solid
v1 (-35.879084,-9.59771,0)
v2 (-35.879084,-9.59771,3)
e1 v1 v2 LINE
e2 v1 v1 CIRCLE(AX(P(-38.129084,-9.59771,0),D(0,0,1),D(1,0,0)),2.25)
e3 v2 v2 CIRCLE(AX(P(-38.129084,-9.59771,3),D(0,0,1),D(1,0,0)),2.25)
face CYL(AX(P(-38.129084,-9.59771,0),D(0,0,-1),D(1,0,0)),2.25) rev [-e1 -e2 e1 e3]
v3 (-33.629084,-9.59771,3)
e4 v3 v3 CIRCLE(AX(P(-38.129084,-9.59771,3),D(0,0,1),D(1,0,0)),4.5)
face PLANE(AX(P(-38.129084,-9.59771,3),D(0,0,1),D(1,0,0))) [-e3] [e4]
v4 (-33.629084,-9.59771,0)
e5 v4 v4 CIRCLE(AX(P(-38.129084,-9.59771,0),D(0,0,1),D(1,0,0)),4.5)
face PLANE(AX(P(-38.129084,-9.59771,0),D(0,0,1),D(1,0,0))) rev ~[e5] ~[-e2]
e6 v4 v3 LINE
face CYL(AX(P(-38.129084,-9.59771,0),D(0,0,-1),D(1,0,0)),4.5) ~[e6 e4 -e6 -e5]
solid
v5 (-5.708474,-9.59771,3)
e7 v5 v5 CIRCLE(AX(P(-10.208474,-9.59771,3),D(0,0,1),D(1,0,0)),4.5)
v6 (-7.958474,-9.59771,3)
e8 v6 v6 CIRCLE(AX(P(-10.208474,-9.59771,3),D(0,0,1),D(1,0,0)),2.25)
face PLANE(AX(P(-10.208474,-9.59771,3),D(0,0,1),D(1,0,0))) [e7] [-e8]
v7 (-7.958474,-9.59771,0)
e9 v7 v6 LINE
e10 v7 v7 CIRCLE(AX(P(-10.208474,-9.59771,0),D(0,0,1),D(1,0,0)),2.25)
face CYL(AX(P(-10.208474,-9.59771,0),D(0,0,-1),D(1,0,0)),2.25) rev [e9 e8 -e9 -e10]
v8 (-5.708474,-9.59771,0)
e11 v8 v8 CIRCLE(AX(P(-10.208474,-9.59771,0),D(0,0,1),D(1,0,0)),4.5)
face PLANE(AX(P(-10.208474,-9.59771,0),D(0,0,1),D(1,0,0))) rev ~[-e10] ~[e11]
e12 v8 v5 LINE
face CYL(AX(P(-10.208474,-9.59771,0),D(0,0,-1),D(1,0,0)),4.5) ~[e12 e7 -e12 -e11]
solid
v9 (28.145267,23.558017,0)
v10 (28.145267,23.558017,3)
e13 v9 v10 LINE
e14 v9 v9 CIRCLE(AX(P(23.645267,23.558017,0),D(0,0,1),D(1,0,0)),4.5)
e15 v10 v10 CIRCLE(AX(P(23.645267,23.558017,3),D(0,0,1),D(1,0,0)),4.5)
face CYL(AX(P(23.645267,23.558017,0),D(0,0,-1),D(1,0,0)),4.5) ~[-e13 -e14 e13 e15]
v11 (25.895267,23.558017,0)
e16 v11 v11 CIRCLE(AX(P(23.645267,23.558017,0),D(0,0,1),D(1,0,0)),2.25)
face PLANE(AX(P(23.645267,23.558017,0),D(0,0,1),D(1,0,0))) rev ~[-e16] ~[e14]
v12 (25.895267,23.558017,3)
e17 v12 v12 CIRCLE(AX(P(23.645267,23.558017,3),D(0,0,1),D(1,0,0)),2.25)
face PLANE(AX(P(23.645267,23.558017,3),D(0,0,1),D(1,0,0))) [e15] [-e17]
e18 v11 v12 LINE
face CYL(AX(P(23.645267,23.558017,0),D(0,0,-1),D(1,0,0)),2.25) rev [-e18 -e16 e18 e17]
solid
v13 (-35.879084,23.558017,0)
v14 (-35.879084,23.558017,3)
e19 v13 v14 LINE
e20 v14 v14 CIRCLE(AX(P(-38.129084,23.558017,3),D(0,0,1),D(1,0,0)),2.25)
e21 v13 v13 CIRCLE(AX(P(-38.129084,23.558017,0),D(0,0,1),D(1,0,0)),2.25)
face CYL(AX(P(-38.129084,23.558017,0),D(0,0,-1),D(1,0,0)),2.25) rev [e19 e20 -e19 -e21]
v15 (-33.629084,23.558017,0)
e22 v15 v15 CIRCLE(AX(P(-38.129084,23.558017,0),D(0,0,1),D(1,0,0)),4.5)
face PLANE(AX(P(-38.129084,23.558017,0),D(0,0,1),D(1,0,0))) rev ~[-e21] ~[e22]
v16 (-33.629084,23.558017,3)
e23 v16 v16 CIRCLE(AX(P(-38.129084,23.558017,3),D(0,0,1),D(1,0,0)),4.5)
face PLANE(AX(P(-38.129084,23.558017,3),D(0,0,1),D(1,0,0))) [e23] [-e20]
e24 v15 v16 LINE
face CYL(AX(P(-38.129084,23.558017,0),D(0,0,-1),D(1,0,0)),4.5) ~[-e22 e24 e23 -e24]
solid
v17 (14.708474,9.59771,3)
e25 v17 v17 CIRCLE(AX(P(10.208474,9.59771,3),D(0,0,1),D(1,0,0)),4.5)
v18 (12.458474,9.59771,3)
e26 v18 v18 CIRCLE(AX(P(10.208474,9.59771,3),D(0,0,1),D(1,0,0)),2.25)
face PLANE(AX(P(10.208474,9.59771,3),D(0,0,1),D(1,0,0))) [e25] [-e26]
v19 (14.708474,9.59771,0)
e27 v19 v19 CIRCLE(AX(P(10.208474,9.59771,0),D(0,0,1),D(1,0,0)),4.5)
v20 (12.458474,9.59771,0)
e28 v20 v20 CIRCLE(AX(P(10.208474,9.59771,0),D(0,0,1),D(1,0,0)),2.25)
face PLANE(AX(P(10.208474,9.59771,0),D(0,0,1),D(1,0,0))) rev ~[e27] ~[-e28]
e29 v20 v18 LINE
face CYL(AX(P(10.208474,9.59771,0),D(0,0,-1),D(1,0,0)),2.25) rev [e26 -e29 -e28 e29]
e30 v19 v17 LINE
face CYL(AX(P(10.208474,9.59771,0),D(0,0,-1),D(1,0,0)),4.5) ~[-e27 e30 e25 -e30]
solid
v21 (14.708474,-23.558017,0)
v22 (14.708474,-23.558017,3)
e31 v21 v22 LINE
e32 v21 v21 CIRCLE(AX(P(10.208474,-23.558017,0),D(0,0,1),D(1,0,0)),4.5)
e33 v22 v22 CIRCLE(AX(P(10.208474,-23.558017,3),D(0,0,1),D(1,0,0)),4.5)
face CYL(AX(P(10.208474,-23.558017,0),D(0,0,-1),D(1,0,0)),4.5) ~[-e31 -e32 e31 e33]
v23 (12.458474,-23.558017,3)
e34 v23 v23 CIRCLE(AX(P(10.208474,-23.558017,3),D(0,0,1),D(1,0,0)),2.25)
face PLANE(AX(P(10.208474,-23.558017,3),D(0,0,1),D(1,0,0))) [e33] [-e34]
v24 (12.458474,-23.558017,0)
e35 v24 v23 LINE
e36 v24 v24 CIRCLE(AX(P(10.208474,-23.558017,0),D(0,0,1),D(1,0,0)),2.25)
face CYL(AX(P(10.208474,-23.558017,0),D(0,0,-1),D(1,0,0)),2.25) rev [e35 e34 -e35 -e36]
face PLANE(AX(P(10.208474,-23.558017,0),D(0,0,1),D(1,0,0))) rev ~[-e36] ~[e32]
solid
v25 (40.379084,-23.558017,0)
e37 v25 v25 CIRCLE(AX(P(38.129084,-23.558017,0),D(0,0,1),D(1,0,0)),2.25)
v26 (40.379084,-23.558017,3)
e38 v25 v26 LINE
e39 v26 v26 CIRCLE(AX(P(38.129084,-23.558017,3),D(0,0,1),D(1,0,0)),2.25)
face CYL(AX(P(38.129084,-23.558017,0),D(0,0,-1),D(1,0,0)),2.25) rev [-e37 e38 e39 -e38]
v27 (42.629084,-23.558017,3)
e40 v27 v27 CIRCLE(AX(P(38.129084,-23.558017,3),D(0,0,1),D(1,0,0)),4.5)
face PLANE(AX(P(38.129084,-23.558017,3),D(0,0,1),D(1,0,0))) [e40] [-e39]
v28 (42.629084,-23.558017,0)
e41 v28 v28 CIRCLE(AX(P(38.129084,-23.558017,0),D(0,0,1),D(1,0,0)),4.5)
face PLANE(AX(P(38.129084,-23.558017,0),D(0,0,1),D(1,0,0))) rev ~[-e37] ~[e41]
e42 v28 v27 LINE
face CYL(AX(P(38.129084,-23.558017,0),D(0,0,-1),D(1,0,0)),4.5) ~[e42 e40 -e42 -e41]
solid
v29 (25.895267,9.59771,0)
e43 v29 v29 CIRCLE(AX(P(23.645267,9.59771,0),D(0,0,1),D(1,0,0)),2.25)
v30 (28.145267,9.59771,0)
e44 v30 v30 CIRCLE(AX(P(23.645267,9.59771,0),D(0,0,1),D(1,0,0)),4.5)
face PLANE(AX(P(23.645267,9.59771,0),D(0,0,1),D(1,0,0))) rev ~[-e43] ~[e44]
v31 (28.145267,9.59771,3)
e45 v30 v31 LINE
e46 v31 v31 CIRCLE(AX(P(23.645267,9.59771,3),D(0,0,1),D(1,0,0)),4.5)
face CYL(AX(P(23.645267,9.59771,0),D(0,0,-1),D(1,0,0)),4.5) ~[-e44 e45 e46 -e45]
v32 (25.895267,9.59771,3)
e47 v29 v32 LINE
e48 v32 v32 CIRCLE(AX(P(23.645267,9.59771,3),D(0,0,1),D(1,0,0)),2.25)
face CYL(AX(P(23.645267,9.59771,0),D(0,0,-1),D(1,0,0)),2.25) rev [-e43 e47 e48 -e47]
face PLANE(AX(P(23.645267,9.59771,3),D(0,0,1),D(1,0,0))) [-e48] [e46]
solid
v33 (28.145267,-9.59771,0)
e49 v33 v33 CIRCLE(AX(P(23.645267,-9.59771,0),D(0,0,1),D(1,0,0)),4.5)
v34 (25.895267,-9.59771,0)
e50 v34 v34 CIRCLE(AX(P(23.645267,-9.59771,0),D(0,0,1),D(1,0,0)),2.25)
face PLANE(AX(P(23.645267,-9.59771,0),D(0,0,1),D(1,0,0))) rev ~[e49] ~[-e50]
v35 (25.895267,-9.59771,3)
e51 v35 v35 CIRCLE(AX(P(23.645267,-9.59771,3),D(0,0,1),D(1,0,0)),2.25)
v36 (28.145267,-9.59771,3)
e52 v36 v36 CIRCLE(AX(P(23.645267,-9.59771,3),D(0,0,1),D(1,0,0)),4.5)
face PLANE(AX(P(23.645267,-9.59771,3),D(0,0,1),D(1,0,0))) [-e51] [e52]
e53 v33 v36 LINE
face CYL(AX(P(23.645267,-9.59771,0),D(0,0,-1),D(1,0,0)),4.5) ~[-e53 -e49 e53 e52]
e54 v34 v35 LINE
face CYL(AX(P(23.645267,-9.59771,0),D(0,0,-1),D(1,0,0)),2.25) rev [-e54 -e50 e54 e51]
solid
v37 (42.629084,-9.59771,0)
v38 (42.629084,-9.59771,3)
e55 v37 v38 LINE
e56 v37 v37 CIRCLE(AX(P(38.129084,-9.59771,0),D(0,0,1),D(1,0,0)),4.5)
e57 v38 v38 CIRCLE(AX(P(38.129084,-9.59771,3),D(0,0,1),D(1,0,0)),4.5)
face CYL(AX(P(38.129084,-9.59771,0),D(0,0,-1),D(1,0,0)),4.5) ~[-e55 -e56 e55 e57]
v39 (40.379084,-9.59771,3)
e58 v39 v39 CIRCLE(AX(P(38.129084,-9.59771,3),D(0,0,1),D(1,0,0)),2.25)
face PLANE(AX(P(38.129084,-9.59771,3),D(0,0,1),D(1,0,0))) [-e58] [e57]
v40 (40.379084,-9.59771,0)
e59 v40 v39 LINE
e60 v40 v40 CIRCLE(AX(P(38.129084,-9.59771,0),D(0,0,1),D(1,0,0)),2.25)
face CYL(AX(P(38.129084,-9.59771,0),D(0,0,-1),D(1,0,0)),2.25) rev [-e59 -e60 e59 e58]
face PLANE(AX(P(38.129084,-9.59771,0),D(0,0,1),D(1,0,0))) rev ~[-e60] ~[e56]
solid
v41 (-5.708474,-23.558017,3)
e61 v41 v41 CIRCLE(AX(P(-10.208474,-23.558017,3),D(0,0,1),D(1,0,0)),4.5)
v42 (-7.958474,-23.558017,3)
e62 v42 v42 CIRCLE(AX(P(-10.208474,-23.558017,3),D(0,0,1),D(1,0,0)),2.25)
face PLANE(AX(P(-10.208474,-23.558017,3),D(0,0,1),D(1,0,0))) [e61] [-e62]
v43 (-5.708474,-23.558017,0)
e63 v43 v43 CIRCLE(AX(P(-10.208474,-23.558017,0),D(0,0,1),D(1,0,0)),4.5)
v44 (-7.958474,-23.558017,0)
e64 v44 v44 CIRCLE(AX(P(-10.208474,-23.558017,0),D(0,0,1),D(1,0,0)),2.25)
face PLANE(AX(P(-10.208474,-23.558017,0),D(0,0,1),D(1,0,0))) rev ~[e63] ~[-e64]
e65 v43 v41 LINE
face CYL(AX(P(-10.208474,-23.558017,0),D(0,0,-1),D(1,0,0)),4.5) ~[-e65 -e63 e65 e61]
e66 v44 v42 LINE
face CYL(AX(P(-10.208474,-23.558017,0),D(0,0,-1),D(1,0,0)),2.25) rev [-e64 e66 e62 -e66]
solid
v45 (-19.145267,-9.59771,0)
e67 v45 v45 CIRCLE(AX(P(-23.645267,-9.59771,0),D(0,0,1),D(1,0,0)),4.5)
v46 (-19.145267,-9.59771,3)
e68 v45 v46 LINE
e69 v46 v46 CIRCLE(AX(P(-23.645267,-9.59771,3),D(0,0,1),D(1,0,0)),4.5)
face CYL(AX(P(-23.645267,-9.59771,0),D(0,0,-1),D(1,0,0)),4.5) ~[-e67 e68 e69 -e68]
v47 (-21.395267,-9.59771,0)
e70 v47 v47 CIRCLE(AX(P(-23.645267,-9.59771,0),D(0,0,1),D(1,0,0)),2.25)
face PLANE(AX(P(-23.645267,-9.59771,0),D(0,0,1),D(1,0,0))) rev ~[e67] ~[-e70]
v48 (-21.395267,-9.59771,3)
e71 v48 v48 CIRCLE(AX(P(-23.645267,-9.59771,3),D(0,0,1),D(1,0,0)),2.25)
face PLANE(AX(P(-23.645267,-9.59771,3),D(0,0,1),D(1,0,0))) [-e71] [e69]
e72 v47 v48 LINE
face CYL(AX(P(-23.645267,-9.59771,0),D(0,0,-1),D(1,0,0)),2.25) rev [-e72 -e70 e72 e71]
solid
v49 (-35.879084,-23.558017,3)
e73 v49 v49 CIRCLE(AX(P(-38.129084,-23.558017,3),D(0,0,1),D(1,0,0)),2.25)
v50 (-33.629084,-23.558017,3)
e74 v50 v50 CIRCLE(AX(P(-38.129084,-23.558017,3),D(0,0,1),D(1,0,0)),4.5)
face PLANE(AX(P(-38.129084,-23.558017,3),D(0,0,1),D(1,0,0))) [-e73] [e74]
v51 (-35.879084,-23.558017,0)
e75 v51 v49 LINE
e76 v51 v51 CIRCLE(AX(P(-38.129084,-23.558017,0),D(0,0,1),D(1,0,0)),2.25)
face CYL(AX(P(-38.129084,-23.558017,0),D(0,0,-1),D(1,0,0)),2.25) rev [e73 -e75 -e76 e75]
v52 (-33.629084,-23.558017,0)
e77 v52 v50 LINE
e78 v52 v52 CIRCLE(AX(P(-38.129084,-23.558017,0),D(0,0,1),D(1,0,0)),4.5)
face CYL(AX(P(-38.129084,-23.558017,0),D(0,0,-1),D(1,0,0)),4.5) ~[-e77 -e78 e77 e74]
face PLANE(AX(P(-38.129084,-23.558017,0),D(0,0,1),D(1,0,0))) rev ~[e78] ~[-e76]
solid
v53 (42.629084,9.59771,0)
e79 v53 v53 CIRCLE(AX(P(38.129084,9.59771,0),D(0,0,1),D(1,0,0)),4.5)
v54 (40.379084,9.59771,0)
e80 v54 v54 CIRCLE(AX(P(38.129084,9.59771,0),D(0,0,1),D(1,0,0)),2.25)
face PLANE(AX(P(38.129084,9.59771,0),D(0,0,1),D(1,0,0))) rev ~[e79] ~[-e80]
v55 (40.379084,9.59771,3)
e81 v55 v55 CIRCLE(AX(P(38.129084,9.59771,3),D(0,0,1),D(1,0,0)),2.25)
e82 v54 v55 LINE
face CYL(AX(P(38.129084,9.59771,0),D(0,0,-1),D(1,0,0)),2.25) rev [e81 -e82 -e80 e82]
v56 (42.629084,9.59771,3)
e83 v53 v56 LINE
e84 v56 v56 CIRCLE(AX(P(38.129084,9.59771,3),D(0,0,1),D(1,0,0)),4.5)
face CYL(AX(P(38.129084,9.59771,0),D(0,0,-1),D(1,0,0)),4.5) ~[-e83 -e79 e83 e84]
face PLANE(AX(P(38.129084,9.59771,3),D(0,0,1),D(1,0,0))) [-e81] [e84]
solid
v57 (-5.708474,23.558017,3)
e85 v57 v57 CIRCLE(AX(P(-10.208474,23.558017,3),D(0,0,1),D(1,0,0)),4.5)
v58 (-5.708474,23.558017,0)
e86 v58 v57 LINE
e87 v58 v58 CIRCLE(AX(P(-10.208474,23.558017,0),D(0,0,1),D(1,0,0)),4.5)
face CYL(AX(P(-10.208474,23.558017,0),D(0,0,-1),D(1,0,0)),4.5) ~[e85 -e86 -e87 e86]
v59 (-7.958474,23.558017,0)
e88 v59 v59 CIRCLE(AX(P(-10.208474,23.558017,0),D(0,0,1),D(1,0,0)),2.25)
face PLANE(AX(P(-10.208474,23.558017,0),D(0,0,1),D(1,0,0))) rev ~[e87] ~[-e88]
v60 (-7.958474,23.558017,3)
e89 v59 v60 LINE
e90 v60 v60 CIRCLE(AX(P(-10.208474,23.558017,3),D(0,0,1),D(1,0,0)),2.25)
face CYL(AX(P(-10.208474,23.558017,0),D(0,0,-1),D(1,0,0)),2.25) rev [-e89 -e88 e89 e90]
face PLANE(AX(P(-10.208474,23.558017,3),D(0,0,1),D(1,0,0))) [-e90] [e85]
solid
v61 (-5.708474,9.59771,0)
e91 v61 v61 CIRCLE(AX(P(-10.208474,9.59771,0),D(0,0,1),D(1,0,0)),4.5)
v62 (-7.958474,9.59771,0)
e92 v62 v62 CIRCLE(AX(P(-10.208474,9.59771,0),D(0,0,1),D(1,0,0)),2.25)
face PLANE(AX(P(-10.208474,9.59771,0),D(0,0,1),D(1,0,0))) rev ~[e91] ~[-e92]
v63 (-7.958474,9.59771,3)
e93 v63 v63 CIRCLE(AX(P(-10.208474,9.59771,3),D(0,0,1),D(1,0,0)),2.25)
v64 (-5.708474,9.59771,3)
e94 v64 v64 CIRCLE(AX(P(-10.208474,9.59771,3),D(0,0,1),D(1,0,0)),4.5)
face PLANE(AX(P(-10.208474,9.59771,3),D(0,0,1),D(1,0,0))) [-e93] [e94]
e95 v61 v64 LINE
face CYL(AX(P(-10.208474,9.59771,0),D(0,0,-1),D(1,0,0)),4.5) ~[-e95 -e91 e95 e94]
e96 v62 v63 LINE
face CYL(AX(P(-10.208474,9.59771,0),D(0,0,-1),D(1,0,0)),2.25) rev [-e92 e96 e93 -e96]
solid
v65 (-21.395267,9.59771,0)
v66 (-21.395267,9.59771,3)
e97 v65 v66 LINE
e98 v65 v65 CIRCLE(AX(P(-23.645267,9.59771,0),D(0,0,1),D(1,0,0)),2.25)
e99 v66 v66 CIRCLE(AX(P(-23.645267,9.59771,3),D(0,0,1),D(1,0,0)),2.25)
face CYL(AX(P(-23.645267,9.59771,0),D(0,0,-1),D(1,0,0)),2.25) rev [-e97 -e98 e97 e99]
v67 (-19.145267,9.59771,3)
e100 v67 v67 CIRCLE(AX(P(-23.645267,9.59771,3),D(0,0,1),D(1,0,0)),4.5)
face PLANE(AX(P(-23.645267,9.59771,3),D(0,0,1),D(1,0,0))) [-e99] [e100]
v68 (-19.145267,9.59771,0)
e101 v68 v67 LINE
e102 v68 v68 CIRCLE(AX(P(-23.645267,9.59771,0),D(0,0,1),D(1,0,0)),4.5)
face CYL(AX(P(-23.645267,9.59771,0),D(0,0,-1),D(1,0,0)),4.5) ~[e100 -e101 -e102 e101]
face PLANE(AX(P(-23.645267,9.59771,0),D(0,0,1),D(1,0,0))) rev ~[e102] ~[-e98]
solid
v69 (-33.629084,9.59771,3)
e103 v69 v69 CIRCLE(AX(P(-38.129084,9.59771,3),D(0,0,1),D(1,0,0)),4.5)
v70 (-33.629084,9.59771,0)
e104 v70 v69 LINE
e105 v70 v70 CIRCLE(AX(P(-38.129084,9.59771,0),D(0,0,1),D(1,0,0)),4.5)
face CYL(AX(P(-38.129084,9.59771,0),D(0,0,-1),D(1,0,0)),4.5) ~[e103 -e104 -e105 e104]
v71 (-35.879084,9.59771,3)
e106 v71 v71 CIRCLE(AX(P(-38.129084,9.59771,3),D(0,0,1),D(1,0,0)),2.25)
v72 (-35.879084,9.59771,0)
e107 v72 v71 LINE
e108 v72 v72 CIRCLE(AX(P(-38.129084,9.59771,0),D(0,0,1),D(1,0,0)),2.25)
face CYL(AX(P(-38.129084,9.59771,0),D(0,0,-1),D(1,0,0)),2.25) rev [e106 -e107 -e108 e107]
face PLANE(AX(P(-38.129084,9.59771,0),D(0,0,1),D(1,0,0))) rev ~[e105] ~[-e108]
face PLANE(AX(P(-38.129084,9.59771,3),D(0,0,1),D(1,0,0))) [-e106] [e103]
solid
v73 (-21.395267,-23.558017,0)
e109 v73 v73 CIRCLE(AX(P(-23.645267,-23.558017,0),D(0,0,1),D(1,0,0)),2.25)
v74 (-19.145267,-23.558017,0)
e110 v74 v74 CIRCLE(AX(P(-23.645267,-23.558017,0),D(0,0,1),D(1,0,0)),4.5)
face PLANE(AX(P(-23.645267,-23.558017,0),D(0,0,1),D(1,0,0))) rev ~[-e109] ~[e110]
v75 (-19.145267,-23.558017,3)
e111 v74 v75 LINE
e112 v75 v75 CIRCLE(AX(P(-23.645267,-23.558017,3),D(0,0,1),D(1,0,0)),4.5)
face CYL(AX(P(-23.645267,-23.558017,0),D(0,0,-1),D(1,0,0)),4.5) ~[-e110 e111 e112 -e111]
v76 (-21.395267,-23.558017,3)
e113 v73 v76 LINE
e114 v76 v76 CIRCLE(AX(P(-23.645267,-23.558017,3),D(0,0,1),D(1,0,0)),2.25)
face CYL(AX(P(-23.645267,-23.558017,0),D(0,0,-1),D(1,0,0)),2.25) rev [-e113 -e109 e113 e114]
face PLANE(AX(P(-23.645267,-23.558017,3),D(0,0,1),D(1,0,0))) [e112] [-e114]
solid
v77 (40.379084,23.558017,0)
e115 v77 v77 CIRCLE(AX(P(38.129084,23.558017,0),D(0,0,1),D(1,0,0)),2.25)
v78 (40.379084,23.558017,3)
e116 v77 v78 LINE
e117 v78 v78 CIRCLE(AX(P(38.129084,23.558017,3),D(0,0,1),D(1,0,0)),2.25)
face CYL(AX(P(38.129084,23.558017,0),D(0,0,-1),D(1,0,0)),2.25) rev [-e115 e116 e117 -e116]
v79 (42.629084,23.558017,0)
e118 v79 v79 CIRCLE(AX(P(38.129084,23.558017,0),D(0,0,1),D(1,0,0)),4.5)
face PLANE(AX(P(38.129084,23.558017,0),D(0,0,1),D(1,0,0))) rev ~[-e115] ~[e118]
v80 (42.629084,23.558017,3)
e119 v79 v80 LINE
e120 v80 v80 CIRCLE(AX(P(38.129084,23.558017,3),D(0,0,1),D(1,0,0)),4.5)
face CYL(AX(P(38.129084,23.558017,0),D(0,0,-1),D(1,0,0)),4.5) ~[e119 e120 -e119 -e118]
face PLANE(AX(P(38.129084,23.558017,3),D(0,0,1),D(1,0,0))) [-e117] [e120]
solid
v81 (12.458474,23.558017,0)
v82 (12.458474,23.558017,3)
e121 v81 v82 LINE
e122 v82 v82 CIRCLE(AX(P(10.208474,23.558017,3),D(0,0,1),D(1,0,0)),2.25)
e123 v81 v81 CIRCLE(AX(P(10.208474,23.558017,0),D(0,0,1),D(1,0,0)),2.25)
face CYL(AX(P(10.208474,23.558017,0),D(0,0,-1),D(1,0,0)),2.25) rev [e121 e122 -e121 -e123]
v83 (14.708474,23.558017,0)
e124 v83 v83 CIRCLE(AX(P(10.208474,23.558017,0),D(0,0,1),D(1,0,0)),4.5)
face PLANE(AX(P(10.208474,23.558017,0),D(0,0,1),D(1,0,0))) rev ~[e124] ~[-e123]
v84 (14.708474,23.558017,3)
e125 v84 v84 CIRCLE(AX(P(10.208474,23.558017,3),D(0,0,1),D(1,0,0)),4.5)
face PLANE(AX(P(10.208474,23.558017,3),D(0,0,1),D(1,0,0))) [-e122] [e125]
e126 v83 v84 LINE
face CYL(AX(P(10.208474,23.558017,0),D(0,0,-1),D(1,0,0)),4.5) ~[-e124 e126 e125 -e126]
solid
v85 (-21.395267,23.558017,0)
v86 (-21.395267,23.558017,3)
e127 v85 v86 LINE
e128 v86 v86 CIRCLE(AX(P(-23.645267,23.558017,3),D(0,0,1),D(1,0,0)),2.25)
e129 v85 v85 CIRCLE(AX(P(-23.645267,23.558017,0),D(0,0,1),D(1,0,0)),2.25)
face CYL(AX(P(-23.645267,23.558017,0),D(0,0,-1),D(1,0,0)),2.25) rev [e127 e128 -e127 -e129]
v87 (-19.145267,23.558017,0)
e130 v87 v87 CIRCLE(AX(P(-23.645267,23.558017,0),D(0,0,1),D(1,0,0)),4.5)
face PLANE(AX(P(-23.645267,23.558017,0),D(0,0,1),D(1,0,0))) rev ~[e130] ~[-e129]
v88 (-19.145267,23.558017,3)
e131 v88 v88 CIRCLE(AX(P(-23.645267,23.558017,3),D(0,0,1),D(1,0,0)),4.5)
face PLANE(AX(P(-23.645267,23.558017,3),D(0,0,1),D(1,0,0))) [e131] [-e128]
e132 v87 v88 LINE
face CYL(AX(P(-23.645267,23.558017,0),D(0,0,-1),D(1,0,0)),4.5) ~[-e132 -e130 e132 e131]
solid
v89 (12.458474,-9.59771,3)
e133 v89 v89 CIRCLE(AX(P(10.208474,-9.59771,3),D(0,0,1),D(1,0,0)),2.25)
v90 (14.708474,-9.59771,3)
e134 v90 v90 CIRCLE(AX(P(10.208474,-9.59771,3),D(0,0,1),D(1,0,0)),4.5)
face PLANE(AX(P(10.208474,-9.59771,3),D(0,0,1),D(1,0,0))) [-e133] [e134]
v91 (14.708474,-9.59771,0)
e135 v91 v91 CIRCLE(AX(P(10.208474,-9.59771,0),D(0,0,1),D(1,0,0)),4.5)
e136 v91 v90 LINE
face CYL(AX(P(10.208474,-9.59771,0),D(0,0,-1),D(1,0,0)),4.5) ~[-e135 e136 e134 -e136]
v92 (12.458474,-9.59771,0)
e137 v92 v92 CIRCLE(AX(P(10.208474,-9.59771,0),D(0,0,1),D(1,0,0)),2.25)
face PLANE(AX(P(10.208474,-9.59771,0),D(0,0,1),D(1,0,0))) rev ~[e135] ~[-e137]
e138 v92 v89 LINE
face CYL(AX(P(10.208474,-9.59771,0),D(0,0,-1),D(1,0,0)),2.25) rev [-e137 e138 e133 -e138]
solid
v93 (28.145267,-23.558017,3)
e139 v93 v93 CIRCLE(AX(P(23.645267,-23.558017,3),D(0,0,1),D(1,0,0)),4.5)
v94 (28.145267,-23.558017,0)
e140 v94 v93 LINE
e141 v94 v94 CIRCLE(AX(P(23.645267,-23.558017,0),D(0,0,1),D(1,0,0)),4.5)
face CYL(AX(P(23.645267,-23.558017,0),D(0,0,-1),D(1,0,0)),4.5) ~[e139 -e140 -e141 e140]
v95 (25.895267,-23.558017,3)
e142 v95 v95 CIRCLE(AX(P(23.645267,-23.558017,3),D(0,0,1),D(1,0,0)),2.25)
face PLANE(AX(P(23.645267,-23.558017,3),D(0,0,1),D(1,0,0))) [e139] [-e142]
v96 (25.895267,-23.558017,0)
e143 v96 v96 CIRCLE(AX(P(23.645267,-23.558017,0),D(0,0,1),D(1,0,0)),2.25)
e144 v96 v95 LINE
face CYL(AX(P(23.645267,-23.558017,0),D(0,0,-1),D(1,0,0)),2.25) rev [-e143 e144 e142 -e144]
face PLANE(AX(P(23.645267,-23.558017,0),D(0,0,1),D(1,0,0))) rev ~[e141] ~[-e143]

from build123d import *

# Parameters (mm, degrees)
F0_R     = 4.5
F0_R_2   = 2.25
F1_DEPTH = 3


with BuildPart() as f1:
    # F0 (on Top) → F1 (new body)
    with BuildSketch(Plane.XY):
        with Locations((-38.129084, 23.558017)):
            Circle(F0_R)
        with Locations((-38.129084, 23.558017)):
            Circle(F0_R_2, mode=Mode.SUBTRACT)
        with Locations((-23.645267, 23.558017)):
            Circle(F0_R)
        with Locations((-23.645267, 23.558017)):
            Circle(F0_R_2, mode=Mode.SUBTRACT)
        with Locations((-10.208474, 23.558017)):
            Circle(F0_R)
        with Locations((-10.208474, 23.558017)):
            Circle(F0_R_2, mode=Mode.SUBTRACT)
        with Locations((-10.208474, 9.59771)):
            Circle(F0_R)
        with Locations((-10.208474, 9.59771)):
            Circle(F0_R_2, mode=Mode.SUBTRACT)
        with Locations((-23.645267, 9.59771)):
            Circle(F0_R)
        with Locations((-23.645267, 9.59771)):
            Circle(F0_R_2, mode=Mode.SUBTRACT)
        with Locations((-38.129084, 9.59771)):
            Circle(F0_R)
        with Locations((-38.129084, 9.59771)):
            Circle(F0_R_2, mode=Mode.SUBTRACT)
        with Locations((-23.645267, -9.59771)):
            Circle(F0_R)
        with Locations((-23.645267, -9.59771)):
            Circle(F0_R_2, mode=Mode.SUBTRACT)
        with Locations((-38.129084, -9.59771)):
            Circle(F0_R)
        with Locations((-38.129084, -9.59771)):
            Circle(F0_R_2, mode=Mode.SUBTRACT)
        with Locations((-38.129084, -23.558017)):
            Circle(F0_R)
        with Locations((-38.129084, -23.558017)):
            Circle(F0_R_2, mode=Mode.SUBTRACT)
        with Locations((-23.645267, -23.558017)):
            Circle(F0_R)
        with Locations((-23.645267, -23.558017)):
            Circle(F0_R_2, mode=Mode.SUBTRACT)
        with Locations((-10.208474, -23.558017)):
            Circle(F0_R)
        with Locations((-10.208474, -23.558017)):
            Circle(F0_R_2, mode=Mode.SUBTRACT)
        with Locations((-10.208474, -9.59771)):
            Circle(F0_R)
        with Locations((-10.208474, -9.59771)):
            Circle(F0_R_2, mode=Mode.SUBTRACT)
        with Locations((10.208474, 23.558017)):
            Circle(F0_R)
        with Locations((10.208474, 23.558017)):
            Circle(F0_R_2, mode=Mode.SUBTRACT)
        with Locations((10.208474, 9.59771)):
            Circle(F0_R)
        with Locations((10.208474, 9.59771)):
            Circle(F0_R_2, mode=Mode.SUBTRACT)
        with Locations((10.208474, -9.59771)):
            Circle(F0_R)
        with Locations((10.208474, -9.59771)):
            Circle(F0_R_2, mode=Mode.SUBTRACT)
        with Locations((10.208474, -23.558017)):
            Circle(F0_R)
        with Locations((10.208474, -23.558017)):
            Circle(F0_R_2, mode=Mode.SUBTRACT)
        with Locations((23.645267, -9.59771)):
            Circle(F0_R)
        with Locations((23.645267, -9.59771)):
            Circle(F0_R_2, mode=Mode.SUBTRACT)
        with Locations((23.645267, -23.558017)):
            Circle(F0_R)
        with Locations((23.645267, -23.558017)):
            Circle(F0_R_2, mode=Mode.SUBTRACT)
        with Locations((38.129084, -9.59771)):
            Circle(F0_R)
        with Locations((38.129084, -9.59771)):
            Circle(F0_R_2, mode=Mode.SUBTRACT)
        with Locations((38.129084, -23.558017)):
            Circle(F0_R)
        with Locations((38.129084, -23.558017)):
            Circle(F0_R_2, mode=Mode.SUBTRACT)
        with Locations((38.129084, 9.59771)):
            Circle(F0_R)
        with Locations((38.129084, 9.59771)):
            Circle(F0_R_2, mode=Mode.SUBTRACT)
        with Locations((23.645267, 9.59771)):
            Circle(F0_R)
        with Locations((23.645267, 9.59771)):
            Circle(F0_R_2, mode=Mode.SUBTRACT)
        with Locations((23.645267, 23.558017)):
            Circle(F0_R)
        with Locations((23.645267, 23.558017)):
            Circle(F0_R_2, mode=Mode.SUBTRACT)
        with Locations((38.129084, 23.558017)):
            Circle(F0_R)
        with Locations((38.129084, 23.558017)):
            Circle(F0_R_2, mode=Mode.SUBTRACT)
    extrude(amount=F1_DEPTH)


solid = f1.part
